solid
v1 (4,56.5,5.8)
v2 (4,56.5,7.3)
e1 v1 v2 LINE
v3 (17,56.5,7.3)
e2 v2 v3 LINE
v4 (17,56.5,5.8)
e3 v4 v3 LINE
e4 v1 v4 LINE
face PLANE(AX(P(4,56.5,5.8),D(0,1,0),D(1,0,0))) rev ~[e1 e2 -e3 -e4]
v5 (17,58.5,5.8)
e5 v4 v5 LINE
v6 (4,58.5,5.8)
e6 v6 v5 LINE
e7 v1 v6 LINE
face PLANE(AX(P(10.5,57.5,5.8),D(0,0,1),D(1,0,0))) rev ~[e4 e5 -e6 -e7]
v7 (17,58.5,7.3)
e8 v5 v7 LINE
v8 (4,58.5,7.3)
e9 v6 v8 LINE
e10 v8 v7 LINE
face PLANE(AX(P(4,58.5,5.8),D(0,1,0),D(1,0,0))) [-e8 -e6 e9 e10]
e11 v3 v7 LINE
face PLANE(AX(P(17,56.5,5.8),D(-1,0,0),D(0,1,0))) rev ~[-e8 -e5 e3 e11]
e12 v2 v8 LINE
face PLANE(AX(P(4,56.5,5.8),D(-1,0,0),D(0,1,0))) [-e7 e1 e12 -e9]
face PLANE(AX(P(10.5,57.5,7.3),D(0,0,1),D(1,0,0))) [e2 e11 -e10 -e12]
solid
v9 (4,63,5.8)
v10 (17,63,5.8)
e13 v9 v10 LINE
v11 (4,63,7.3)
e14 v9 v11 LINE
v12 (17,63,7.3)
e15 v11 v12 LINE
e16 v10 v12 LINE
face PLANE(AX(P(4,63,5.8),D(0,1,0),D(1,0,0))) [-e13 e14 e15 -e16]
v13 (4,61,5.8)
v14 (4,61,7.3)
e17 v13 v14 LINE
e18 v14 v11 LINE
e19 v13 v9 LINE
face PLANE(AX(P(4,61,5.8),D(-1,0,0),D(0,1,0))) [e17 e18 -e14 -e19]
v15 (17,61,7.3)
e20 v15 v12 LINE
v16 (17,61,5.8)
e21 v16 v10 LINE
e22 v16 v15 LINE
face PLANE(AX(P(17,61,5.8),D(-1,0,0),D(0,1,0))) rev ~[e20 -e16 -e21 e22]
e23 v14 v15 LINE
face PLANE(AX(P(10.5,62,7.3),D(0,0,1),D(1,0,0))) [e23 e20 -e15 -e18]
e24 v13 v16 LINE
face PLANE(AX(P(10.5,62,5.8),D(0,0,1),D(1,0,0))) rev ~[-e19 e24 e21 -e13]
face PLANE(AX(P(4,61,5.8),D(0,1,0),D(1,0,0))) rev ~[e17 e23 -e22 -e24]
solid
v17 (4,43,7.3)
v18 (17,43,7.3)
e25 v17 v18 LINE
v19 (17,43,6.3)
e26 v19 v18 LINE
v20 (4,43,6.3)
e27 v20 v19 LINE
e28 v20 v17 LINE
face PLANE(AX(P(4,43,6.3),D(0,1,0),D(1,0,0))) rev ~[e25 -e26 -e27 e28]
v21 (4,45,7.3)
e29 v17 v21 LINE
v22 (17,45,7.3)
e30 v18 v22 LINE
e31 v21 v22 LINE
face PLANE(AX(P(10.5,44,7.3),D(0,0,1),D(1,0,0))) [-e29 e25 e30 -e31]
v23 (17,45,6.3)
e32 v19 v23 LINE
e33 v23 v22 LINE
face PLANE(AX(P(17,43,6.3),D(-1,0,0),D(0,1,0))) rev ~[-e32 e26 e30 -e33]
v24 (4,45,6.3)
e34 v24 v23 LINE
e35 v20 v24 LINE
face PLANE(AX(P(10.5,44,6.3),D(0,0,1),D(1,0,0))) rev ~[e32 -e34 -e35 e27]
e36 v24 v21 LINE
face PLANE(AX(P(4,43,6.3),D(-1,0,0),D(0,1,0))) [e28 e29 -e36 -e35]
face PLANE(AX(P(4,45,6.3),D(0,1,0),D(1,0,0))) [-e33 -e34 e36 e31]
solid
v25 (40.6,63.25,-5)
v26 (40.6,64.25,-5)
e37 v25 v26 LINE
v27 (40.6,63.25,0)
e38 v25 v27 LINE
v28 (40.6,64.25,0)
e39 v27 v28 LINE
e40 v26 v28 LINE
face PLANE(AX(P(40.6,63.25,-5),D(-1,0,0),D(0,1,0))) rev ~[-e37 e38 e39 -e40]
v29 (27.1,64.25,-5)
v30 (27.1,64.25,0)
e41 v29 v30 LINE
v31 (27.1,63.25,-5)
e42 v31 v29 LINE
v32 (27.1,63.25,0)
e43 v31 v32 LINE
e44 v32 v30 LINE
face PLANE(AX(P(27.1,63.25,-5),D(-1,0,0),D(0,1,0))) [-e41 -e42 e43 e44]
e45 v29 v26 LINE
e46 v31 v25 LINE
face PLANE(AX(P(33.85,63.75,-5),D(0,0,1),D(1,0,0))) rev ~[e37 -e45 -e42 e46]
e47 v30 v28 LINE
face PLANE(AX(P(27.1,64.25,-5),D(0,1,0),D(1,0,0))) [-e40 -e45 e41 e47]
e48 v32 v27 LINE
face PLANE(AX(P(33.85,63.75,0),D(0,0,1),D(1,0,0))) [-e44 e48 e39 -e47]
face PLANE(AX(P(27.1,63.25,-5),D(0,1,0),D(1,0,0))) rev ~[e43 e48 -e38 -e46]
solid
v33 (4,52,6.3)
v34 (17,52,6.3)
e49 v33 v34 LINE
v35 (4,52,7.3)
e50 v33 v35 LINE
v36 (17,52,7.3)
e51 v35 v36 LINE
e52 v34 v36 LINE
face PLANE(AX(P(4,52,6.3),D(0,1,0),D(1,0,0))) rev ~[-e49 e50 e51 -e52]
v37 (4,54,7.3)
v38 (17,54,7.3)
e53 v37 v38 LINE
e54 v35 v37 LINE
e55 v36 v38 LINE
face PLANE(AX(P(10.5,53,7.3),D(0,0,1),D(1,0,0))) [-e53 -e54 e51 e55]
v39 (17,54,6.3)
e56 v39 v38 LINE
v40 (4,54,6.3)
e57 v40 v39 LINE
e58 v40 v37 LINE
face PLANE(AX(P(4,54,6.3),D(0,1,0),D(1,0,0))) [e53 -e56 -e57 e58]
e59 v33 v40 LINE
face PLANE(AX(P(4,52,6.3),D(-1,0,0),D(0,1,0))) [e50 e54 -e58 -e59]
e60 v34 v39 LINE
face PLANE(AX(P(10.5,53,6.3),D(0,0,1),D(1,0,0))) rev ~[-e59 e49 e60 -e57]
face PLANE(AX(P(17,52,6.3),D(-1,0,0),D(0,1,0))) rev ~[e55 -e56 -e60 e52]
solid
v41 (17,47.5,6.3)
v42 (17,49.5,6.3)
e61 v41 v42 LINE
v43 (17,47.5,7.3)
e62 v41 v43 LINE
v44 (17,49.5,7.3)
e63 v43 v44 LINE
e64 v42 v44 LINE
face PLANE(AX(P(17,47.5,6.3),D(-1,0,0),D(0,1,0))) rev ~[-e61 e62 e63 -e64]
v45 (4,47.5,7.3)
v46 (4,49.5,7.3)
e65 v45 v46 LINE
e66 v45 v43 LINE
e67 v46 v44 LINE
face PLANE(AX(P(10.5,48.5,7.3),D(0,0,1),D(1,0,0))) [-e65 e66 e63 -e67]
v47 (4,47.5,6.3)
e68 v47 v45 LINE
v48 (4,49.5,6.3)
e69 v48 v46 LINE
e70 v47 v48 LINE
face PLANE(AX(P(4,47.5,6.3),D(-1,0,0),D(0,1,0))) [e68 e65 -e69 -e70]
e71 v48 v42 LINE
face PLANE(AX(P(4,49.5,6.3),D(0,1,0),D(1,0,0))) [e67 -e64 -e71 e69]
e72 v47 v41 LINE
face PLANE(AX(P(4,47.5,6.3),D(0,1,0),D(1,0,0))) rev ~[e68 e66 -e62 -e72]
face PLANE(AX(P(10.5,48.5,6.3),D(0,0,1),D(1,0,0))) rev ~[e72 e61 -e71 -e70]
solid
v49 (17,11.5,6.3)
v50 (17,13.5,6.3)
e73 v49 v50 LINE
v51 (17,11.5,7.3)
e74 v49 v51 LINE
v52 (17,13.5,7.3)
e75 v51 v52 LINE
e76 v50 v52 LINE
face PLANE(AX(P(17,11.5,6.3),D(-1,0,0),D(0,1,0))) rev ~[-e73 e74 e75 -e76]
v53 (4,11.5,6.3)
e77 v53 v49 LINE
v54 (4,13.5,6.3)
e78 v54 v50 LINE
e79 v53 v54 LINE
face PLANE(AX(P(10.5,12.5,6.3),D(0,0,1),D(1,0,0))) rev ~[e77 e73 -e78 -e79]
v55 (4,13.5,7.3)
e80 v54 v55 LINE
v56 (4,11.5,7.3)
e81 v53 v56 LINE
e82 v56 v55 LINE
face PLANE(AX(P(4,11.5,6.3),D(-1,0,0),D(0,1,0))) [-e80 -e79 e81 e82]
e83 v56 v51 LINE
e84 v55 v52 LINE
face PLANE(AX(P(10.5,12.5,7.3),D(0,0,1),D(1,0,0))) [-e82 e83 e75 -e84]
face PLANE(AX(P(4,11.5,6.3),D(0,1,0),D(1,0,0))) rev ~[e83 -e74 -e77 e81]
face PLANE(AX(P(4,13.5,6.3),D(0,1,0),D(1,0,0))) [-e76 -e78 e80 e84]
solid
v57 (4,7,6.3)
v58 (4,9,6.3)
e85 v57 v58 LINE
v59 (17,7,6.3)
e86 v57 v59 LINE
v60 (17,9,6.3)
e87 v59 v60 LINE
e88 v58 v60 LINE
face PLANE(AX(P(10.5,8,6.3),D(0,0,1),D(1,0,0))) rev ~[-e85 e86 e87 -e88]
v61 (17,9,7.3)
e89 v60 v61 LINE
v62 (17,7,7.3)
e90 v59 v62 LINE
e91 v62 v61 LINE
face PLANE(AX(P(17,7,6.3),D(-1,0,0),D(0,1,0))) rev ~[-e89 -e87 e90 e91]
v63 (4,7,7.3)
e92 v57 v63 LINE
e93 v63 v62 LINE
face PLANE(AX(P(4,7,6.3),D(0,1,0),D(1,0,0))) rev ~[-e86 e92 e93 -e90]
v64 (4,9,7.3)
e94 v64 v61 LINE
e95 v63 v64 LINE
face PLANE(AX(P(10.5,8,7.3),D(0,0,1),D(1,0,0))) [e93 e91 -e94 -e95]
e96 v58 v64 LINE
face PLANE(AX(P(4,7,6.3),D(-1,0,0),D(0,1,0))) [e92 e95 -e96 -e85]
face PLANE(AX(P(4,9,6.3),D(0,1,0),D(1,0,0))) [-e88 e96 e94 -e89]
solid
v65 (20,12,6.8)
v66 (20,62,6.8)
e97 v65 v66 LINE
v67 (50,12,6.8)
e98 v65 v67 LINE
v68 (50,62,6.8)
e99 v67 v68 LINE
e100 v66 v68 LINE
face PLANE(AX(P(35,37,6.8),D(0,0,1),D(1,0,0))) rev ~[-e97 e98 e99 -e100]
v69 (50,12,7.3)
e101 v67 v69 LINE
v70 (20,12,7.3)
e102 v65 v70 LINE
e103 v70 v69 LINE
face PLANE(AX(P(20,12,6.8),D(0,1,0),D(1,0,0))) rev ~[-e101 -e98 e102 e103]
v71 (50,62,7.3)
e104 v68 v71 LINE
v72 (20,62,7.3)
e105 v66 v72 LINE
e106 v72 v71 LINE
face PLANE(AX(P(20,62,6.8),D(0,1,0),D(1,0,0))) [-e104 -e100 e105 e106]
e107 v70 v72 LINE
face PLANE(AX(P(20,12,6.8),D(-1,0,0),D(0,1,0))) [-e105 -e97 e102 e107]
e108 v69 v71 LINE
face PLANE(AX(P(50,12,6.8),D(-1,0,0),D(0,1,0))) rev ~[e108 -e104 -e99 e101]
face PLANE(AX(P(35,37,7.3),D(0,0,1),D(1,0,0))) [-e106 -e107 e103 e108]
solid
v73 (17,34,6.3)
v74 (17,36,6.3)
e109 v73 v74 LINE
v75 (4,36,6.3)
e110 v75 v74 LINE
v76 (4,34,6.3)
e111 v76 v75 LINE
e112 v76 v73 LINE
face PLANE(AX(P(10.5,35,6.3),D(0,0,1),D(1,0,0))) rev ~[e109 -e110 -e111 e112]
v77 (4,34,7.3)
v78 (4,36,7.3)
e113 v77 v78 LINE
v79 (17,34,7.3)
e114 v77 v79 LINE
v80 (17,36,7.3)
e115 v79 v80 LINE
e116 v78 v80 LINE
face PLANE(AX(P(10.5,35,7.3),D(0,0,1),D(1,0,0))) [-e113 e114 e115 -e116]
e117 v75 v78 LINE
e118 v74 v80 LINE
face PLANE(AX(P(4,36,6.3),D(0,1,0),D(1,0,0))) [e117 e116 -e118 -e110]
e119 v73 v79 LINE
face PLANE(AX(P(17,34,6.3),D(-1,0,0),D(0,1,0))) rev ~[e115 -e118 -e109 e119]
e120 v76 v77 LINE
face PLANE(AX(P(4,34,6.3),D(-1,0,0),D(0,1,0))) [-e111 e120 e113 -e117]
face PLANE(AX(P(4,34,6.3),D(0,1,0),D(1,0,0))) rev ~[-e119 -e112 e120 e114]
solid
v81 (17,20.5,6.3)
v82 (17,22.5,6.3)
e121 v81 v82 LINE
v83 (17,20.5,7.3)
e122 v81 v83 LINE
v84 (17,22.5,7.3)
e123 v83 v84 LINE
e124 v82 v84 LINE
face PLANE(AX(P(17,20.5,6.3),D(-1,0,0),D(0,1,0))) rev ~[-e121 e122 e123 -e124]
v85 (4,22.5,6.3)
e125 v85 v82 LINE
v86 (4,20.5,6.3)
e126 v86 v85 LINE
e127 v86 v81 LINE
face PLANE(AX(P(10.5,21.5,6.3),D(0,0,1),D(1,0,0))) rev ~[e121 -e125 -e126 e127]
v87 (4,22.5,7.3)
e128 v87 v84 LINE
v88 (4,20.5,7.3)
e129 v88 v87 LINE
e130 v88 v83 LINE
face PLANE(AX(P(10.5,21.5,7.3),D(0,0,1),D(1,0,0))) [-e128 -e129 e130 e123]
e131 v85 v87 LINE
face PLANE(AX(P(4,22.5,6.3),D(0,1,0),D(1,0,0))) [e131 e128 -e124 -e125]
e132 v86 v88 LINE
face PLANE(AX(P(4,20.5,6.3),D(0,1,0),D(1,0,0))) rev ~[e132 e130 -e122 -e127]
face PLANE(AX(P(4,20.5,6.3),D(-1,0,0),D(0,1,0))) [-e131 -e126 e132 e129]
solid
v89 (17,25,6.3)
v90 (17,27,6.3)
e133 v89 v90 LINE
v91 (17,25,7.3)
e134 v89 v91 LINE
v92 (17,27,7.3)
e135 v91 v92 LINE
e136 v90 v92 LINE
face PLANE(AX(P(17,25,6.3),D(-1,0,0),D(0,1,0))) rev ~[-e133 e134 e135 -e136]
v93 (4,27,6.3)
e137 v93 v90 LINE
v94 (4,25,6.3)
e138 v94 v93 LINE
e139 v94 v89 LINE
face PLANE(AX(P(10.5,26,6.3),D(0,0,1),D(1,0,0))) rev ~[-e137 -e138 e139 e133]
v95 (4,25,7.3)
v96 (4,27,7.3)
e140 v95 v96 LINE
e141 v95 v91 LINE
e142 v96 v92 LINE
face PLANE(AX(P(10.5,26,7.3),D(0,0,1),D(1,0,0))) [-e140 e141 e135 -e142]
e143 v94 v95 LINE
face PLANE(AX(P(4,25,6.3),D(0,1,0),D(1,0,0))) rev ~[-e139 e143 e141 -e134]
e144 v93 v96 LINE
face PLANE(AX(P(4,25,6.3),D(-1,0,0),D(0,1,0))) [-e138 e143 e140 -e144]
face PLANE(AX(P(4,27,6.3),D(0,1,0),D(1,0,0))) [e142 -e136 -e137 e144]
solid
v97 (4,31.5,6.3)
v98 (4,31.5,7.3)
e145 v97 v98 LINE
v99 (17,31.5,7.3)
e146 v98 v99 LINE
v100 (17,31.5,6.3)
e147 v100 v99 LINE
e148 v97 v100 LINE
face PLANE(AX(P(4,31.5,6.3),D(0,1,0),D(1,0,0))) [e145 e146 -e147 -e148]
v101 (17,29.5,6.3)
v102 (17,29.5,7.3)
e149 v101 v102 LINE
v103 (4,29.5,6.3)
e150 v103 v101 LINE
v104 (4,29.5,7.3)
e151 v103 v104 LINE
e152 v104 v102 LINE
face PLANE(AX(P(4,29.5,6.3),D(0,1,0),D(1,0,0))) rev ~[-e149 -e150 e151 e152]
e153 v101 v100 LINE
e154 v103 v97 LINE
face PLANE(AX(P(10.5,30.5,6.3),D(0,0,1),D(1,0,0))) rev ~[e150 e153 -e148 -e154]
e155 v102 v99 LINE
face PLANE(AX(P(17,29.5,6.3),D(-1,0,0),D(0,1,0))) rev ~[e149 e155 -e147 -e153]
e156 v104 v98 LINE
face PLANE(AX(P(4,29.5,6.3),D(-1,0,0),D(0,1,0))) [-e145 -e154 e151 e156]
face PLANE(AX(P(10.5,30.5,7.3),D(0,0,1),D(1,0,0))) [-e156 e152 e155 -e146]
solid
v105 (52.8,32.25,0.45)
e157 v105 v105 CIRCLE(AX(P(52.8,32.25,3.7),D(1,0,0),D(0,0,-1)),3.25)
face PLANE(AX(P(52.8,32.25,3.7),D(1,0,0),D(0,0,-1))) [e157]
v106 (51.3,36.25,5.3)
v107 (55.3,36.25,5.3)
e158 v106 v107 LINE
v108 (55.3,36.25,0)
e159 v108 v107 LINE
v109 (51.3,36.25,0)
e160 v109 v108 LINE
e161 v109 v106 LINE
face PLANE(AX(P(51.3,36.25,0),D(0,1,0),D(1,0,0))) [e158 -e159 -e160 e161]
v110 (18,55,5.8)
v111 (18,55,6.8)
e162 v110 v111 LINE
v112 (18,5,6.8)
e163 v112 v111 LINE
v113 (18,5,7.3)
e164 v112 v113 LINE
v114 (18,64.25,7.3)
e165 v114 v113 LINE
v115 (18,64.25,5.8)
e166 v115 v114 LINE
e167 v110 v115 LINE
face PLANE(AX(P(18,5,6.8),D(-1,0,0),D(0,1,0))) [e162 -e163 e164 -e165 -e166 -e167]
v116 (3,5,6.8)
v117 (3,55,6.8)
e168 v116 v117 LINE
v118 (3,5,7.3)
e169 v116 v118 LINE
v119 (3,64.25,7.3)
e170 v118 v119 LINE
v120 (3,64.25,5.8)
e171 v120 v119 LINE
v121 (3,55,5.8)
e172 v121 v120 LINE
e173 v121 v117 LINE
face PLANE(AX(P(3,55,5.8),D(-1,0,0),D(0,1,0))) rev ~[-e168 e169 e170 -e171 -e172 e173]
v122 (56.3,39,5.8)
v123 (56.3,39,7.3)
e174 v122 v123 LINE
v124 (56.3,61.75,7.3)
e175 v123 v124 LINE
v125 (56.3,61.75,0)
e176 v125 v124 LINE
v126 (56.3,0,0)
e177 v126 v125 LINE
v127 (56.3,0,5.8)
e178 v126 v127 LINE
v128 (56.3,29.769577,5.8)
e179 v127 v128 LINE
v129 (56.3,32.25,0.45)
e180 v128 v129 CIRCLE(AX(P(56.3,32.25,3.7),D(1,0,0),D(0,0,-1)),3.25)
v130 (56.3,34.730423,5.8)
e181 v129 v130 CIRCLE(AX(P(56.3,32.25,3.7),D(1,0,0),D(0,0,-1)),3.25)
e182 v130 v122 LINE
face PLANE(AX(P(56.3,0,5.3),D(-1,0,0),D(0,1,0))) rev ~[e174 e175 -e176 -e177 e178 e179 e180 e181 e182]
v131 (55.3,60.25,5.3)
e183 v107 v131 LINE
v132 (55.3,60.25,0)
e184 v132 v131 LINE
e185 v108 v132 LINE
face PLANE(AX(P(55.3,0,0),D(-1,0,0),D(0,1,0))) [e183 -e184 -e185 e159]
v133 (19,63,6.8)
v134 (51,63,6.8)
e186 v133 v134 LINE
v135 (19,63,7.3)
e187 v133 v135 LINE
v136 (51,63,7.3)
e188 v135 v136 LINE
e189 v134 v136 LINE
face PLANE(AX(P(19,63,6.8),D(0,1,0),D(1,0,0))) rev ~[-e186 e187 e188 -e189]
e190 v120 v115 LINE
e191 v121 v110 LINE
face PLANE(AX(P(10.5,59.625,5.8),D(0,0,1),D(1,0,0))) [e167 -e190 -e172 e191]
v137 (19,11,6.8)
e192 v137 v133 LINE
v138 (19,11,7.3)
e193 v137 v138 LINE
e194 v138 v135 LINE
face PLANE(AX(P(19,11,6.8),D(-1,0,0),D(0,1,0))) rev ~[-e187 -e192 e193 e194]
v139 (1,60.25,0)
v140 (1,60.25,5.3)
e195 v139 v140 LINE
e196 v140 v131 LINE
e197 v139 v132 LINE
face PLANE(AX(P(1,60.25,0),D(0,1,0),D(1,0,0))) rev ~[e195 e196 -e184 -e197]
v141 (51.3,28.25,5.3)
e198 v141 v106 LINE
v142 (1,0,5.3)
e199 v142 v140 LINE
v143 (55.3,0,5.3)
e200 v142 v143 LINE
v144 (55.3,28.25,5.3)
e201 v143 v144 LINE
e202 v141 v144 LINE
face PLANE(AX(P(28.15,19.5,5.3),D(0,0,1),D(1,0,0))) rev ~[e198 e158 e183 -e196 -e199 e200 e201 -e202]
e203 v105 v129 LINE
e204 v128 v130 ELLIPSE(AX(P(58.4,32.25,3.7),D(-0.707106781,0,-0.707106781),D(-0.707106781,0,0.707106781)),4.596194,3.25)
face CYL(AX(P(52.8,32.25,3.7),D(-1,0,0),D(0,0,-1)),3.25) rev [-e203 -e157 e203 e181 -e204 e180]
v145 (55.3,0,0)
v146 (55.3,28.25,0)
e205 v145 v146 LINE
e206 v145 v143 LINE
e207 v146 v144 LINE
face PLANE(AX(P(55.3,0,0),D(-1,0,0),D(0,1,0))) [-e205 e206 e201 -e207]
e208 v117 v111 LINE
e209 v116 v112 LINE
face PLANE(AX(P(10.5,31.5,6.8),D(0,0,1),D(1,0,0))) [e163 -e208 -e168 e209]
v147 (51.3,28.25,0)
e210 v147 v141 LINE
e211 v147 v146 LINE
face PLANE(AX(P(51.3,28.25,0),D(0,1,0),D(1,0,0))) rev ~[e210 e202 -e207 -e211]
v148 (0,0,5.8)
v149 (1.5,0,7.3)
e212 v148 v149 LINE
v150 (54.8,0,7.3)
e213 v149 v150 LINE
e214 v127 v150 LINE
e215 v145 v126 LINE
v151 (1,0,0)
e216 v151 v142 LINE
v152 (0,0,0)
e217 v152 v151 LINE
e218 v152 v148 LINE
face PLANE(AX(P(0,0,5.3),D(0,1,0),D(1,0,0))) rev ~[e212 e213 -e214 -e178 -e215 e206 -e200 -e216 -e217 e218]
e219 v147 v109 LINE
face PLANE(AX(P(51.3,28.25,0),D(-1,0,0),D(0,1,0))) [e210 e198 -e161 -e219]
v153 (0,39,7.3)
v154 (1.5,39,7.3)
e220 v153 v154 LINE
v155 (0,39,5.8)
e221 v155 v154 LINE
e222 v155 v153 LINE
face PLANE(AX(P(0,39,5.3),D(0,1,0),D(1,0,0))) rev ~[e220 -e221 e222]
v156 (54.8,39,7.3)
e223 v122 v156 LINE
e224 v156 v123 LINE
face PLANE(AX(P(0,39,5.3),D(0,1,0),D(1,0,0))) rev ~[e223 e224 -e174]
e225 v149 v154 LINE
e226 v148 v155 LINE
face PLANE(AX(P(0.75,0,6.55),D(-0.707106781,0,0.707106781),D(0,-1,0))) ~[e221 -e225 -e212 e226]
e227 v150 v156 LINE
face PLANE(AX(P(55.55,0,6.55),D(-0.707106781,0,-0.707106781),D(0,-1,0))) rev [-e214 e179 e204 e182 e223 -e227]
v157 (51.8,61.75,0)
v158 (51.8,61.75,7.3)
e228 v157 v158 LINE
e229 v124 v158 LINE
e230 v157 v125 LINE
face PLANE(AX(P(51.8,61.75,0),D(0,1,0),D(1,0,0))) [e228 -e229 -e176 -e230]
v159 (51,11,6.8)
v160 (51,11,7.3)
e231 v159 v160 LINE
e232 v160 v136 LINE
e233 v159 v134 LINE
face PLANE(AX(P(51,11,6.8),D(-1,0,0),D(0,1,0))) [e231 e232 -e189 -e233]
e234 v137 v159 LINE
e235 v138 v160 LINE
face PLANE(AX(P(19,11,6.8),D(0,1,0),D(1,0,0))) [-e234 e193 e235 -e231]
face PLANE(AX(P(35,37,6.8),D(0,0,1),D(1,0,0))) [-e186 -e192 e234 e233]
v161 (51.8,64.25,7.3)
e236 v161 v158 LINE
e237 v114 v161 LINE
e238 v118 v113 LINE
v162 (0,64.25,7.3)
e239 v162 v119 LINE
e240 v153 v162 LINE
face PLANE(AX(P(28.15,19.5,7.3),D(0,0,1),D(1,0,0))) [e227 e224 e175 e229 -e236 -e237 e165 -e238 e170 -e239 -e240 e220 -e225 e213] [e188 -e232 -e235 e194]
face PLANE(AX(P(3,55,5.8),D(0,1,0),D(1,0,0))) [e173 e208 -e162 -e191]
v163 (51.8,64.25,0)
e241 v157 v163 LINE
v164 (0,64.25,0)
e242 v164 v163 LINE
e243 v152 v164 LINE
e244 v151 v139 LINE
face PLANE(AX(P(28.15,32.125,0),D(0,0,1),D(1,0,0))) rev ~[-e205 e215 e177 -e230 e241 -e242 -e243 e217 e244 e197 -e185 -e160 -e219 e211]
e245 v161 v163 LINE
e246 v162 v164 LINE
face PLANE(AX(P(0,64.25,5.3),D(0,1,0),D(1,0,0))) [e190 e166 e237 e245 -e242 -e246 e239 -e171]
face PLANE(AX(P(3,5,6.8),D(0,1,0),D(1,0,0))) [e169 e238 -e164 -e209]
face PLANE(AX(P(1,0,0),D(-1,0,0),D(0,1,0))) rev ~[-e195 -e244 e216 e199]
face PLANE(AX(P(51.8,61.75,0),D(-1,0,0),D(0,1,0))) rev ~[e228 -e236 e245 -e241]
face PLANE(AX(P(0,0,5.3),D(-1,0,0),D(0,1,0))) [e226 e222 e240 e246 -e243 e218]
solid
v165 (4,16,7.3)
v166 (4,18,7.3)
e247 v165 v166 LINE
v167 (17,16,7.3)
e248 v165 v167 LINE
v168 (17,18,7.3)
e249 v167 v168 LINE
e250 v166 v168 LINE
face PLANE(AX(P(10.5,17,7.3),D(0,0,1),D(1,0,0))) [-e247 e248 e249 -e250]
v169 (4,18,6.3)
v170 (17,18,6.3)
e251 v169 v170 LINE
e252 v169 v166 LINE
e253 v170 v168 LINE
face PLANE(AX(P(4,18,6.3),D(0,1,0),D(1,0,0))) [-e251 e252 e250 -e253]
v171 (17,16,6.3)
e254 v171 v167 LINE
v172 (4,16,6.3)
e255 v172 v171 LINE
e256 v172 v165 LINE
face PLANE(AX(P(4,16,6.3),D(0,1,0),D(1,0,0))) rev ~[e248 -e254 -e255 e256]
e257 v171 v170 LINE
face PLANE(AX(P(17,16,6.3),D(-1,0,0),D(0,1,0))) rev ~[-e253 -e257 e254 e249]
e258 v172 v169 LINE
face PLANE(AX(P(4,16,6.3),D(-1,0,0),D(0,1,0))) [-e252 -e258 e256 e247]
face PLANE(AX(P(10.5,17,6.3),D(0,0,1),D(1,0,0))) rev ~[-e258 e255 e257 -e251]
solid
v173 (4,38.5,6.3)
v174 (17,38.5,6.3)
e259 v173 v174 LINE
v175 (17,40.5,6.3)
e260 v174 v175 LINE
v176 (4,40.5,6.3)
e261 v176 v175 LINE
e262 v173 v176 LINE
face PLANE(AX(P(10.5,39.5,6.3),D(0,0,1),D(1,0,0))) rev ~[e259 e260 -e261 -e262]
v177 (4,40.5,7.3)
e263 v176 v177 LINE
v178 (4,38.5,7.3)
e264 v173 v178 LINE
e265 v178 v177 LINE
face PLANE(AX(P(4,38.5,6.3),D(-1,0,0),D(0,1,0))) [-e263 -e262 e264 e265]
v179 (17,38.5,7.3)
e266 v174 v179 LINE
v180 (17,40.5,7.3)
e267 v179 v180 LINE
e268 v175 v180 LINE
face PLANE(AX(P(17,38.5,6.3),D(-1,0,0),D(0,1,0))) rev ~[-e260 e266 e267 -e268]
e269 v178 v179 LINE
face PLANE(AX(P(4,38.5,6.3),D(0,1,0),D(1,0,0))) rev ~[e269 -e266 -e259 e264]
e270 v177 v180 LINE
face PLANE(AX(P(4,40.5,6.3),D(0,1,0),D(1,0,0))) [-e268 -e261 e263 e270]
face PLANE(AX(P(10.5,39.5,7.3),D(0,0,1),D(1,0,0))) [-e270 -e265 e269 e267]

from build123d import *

# Parameters (mm, degrees)
BOX017_W       = 30
BOX017_H       = 50
BOX017_DEPTH   = 0.5
BOX020_W       = 13
BOX020_H       = 2
BOX020_DEPTH   = 1
BOX021_W       = 13
BOX021_H       = 2
BOX021_DEPTH   = 1
BOX022_W       = 13
BOX022_H       = 2
BOX022_DEPTH   = 1
BOX023_W       = 13
BOX023_H       = 2
BOX023_DEPTH   = 1
BOX024_W       = 13
BOX024_H       = 2
BOX024_DEPTH   = 1
BOX025_W       = 13
BOX025_H       = 2
BOX025_DEPTH   = 1
BOX030_W       = 13
BOX030_H       = 2
BOX030_DEPTH   = 1
BOX031_W       = 13
BOX031_H       = 2
BOX031_DEPTH   = 1
BOX032_W       = 13
BOX032_H       = 2
BOX032_DEPTH   = 1
BOX034_W       = 13
BOX034_H       = 2
BOX034_DEPTH   = 1
BOX035_W       = 13
BOX035_H       = 2
BOX035_DEPTH   = 1
BOX038_W       = 13
BOX038_H       = 2
BOX038_DEPTH   = 1.5
BOX040_W       = 13
BOX040_H       = 2
BOX040_DEPTH   = 1.5
BOX043_W       = 13.5
BOX043_H       = 1
BOX043_DEPTH   = 5
CYLINDER_R     = 3.25
CYLINDER_DEPTH = 3.5
BOX042_W       = 54.3
BOX042_H       = 60.25
BOX042_DEPTH   = 5.3
BOX001_W       = 4.5
BOX001_H       = 2.5
BOX001_DEPTH   = 5.3
BOX_W          = 56.3
BOX_H          = 64.25
BOX_DEPTH      = 5.3
BOX041_W       = 32
BOX041_H       = 52
BOX041_DEPTH   = 0.5
BOX018_W       = 15
BOX018_H       = 53
BOX018_DEPTH   = 0.5
BOX008_W       = 56.3
BOX008_H       = 39
BOX008_DEPTH   = 2
CHAMFER_SIZE   = 1.5
BOX019_W       = 15
BOX019_H       = 9.25
BOX019_DEPTH   = 1.5
BOX029_W       = 17
BOX029_H       = 9.25
BOX029_DEPTH   = 1.5
BOX010_W       = 10
BOX010_H       = 10
BOX010_DEPTH   = 10
BOX007_W       = 56.3
BOX007_H       = 25.25
BOX007_DEPTH   = 2
BOX044_W       = 4
BOX044_H       = 8
BOX044_DEPTH   = 5.3


with BuildPart() as cube_game_lable_inner:
    # Box017 → Box017 (new body)
    with BuildSketch(Plane(origin=(20, 12, 6.8), x_dir=(1, 0, 0), z_dir=(0, 0, 1))):
        with Locations((15, 25)):
            Rectangle(BOX017_W, BOX017_H)
    extrude(amount=BOX017_DEPTH)


with BuildPart() as cube_ladders:
    # Box020 → Box020 (new body)
    with BuildSketch(Plane(origin=(4, 7, 6.3), x_dir=(1, 0, 0), z_dir=(0, 0, 1))):
        with Locations((6.5, 1)):
            Rectangle(BOX020_W, BOX020_H)
    extrude(amount=BOX020_DEPTH)


with BuildPart() as box021:
    # Box021 → Box021 (new body)
    with BuildSketch(Plane(origin=(4, 11.5, 6.3), x_dir=(1, 0, 0), z_dir=(0, 0, 1))):
        with Locations((6.5, 1)):
            Rectangle(BOX021_W, BOX021_H)
    extrude(amount=BOX021_DEPTH)


with BuildPart() as box022:
    # Box022 → Box022 (new body)
    with BuildSketch(Plane(origin=(4, 16, 6.3), x_dir=(1, 0, 0), z_dir=(0, 0, 1))):
        with Locations((6.5, 1)):
            Rectangle(BOX022_W, BOX022_H)
    extrude(amount=BOX022_DEPTH)


with BuildPart() as box023:
    # Box023 → Box023 (new body)
    with BuildSketch(Plane(origin=(4, 20.5, 6.3), x_dir=(1, 0, 0), z_dir=(0, 0, 1))):
        with Locations((6.5, 1)):
            Rectangle(BOX023_W, BOX023_H)
    extrude(amount=BOX023_DEPTH)


with BuildPart() as box024:
    # Box024 → Box024 (new body)
    with BuildSketch(Plane(origin=(4, 25, 6.3), x_dir=(1, 0, 0), z_dir=(0, 0, 1))):
        with Locations((6.5, 1)):
            Rectangle(BOX024_W, BOX024_H)
    extrude(amount=BOX024_DEPTH)


with BuildPart() as box025:
    # Box025 → Box025 (new body)
    with BuildSketch(Plane(origin=(4, 29.5, 6.3), x_dir=(1, 0, 0), z_dir=(0, 0, 1))):
        with Locations((6.5, 1)):
            Rectangle(BOX025_W, BOX025_H)
    extrude(amount=BOX025_DEPTH)


with BuildPart() as box030:
    # Box030 → Box030 (new body)
    with BuildSketch(Plane(origin=(4, 34, 6.3), x_dir=(1, 0, 0), z_dir=(0, 0, 1))):
        with Locations((6.5, 1)):
            Rectangle(BOX030_W, BOX030_H)
    extrude(amount=BOX030_DEPTH)


with BuildPart() as box031:
    # Box031 → Box031 (new body)
    with BuildSketch(Plane(origin=(4, 38.5, 6.3), x_dir=(1, 0, 0), z_dir=(0, 0, 1))):
        with Locations((6.5, 1)):
            Rectangle(BOX031_W, BOX031_H)
    extrude(amount=BOX031_DEPTH)


with BuildPart() as box032:
    # Box032 → Box032 (new body)
    with BuildSketch(Plane(origin=(4, 43, 6.3), x_dir=(1, 0, 0), z_dir=(0, 0, 1))):
        with Locations((6.5, 1)):
            Rectangle(BOX032_W, BOX032_H)
    extrude(amount=BOX032_DEPTH)


with BuildPart() as box034:
    # Box034 → Box034 (new body)
    with BuildSketch(Plane(origin=(4, 47.5, 6.3), x_dir=(1, 0, 0), z_dir=(0, 0, 1))):
        with Locations((6.5, 1)):
            Rectangle(BOX034_W, BOX034_H)
    extrude(amount=BOX034_DEPTH)


with BuildPart() as box035:
    # Box035 → Box035 (new body)
    with BuildSketch(Plane(origin=(4, 52, 6.3), x_dir=(1, 0, 0), z_dir=(0, 0, 1))):
        with Locations((6.5, 1)):
            Rectangle(BOX035_W, BOX035_H)
    extrude(amount=BOX035_DEPTH)


with BuildPart() as box038:
    # Box038 → Box038 (new body)
    with BuildSketch(Plane(origin=(4, 56.5, 5.8), x_dir=(1, 0, 0), z_dir=(0, 0, 1))):
        with Locations((6.5, 1)):
            Rectangle(BOX038_W, BOX038_H)
    extrude(amount=BOX038_DEPTH)


with BuildPart() as box040:
    # Box040 → Box040 (new body)
    with BuildSketch(Plane(origin=(4, 61, 5.8), x_dir=(1, 0, 0), z_dir=(0, 0, 1))):
        with Locations((6.5, 1)):
            Rectangle(BOX040_W, BOX040_H)
    extrude(amount=BOX040_DEPTH)


with BuildPart() as cube_sd_card_cover:
    # Box043 → Box043 (new body)
    with BuildSketch(Plane(origin=(27.1, 63.25, -5), x_dir=(1, 0, 0), z_dir=(0, 0, 1))):
        with Locations((6.75, 0.5)):
            Rectangle(BOX043_W, BOX043_H)
    extrude(amount=BOX043_DEPTH)


with BuildPart() as cylinder_magnet:
    # Cylinder → Cylinder (new body)
    with BuildSketch(Plane(origin=(52.8, 32.25, 3.7), x_dir=(0, 0, -1), z_dir=(1, 0, 0))):
        Circle(CYLINDER_R)
    extrude(amount=CYLINDER_DEPTH)


with BuildPart() as box042:
    # Box042 → Box042 (new body)
    with BuildSketch(Plane(origin=(1, 0, 0), x_dir=(1, 0, 0), z_dir=(0, 0, 1))):
        with Locations((27.15, 30.125)):
            Rectangle(BOX042_W, BOX042_H)
    extrude(amount=BOX042_DEPTH)


with BuildPart() as cube_corner_inner:
    # Box001 → Box001 (new body)
    with BuildSketch(Plane(origin=(51.8, 61.75, 0), x_dir=(1, 0, 0), z_dir=(0, 0, 1))):
        with Locations((2.25, 1.25)):
            Rectangle(BOX001_W, BOX001_H)
    extrude(amount=BOX001_DEPTH)


with BuildPart() as cut014:
    # Box → Box (new body)
    with BuildSketch(Plane.XY):
        with Locations((28.15, 32.125)):
            Rectangle(BOX_W, BOX_H)
    extrude(amount=BOX_DEPTH)

    # Cut: cut Cube(corner_inner)
    add(cube_corner_inner.part, mode=Mode.SUBTRACT)

    # Cut014: cut Box042
    add(box042.part, mode=Mode.SUBTRACT)


with BuildPart() as cube_game_lable_outer:
    # Box041 → Box041 (new body)
    with BuildSketch(Plane(origin=(19, 11, 6.8), x_dir=(1, 0, 0), z_dir=(0, 0, 1))):
        with Locations((16, 26)):
            Rectangle(BOX041_W, BOX041_H)
    extrude(amount=BOX041_DEPTH)


with BuildPart() as cube_cube_strips:
    # Box018 → Box018 (new body)
    with BuildSketch(Plane(origin=(3, 5, 6.8), x_dir=(1, 0, 0), z_dir=(0, 0, 1))):
        with Locations((7.5, 26.5)):
            Rectangle(BOX018_W, BOX018_H)
    extrude(amount=BOX018_DEPTH)


with BuildPart() as chamfer_body:
    # Box008 → Box008 (new body)
    with BuildSketch(Plane.XY.offset(5.3)):
        with Locations((28.15, 19.5)):
            Rectangle(BOX008_W, BOX008_H)
    extrude(amount=BOX008_DEPTH)

    # Chamfer
    chamfer_edges = [chamfer_body.edges().sort_by_distance(p)[0] for p in [
        (0, 19.5, 7.3),
        (56.3, 19.5, 7.3),
    ]]
    chamfer(chamfer_edges, length=CHAMFER_SIZE)


with BuildPart() as cube_cube_strip_top:
    # Box019 → Box019 (new body)
    with BuildSketch(Plane(origin=(3, 55, 5.8), x_dir=(1, 0, 0), z_dir=(0, 0, 1))):
        with Locations((7.5, 4.625)):
            Rectangle(BOX019_W, BOX019_H)
    extrude(amount=BOX019_DEPTH)


with BuildPart() as cube_cube_strip_top_outer:
    # Box029 → Box029 (new body)
    with BuildSketch(Plane(origin=(2, 55, 5.8), x_dir=(1, 0, 0), z_dir=(0, 0, 1))):
        with Locations((8.5, 4.625)):
            Rectangle(BOX029_W, BOX029_H)
    extrude(amount=BOX029_DEPTH)


with BuildPart() as cube_top_corner_cut:
    # Box010 → Box010 (new body)
    with BuildSketch(Plane(origin=(51.8, 61.75, 0), x_dir=(1, 0, 0), z_dir=(0, 0, 1))):
        with Locations((5, 5)):
            Rectangle(BOX010_W, BOX010_H)
    extrude(amount=BOX010_DEPTH)


with BuildPart() as cut013:
    # Box007 → Box007 (new body)
    with BuildSketch(Plane(origin=(0, 39, 5.3), x_dir=(1, 0, 0), z_dir=(0, 0, 1))):
        with Locations((28.15, 12.625)):
            Rectangle(BOX007_W, BOX007_H)
    extrude(amount=BOX007_DEPTH)

    # Cut006: cut Cube(top_corner_cut)
    add(cube_top_corner_cut.part, mode=Mode.SUBTRACT)

    # Fusion003: union Cube(cube_strip_top_outer)
    add(cube_cube_strip_top_outer.part)

    # Cut008: cut Cube(cube_strip_top)
    add(cube_cube_strip_top.part, mode=Mode.SUBTRACT)

    # Fusion004: union Chamfer body
    add(chamfer_body.part)

    # Cut012: cut Cube(cube_strips)
    add(cube_cube_strips.part, mode=Mode.SUBTRACT)

    # Cut013: cut Cube(game_lable_outer)
    add(cube_game_lable_outer.part, mode=Mode.SUBTRACT)


with BuildPart() as cut015:
    # Box044 → Box044 (new body)
    with BuildSketch(Plane(origin=(51.3, 28.25, 0), x_dir=(1, 0, 0), z_dir=(0, 0, 1))):
        with Locations((2, 4)):
            Rectangle(BOX044_W, BOX044_H)
    extrude(amount=BOX044_DEPTH)

    # Fusion: union Cut014, Cut013
    add(cut014.part)
    add(cut013.part)

    # Cut015: cut Cylinder(magnet)
    add(cylinder_magnet.part, mode=Mode.SUBTRACT)


solid = Compound([cube_game_lable_inner.part, cube_ladders.part, box021.part, box022.part, box023.part, box024.part, box025.part, box030.part, box031.part, box032.part, box034.part, box035.part, box038.part, box040.part, cube_sd_card_cover.part, cut015.part])
